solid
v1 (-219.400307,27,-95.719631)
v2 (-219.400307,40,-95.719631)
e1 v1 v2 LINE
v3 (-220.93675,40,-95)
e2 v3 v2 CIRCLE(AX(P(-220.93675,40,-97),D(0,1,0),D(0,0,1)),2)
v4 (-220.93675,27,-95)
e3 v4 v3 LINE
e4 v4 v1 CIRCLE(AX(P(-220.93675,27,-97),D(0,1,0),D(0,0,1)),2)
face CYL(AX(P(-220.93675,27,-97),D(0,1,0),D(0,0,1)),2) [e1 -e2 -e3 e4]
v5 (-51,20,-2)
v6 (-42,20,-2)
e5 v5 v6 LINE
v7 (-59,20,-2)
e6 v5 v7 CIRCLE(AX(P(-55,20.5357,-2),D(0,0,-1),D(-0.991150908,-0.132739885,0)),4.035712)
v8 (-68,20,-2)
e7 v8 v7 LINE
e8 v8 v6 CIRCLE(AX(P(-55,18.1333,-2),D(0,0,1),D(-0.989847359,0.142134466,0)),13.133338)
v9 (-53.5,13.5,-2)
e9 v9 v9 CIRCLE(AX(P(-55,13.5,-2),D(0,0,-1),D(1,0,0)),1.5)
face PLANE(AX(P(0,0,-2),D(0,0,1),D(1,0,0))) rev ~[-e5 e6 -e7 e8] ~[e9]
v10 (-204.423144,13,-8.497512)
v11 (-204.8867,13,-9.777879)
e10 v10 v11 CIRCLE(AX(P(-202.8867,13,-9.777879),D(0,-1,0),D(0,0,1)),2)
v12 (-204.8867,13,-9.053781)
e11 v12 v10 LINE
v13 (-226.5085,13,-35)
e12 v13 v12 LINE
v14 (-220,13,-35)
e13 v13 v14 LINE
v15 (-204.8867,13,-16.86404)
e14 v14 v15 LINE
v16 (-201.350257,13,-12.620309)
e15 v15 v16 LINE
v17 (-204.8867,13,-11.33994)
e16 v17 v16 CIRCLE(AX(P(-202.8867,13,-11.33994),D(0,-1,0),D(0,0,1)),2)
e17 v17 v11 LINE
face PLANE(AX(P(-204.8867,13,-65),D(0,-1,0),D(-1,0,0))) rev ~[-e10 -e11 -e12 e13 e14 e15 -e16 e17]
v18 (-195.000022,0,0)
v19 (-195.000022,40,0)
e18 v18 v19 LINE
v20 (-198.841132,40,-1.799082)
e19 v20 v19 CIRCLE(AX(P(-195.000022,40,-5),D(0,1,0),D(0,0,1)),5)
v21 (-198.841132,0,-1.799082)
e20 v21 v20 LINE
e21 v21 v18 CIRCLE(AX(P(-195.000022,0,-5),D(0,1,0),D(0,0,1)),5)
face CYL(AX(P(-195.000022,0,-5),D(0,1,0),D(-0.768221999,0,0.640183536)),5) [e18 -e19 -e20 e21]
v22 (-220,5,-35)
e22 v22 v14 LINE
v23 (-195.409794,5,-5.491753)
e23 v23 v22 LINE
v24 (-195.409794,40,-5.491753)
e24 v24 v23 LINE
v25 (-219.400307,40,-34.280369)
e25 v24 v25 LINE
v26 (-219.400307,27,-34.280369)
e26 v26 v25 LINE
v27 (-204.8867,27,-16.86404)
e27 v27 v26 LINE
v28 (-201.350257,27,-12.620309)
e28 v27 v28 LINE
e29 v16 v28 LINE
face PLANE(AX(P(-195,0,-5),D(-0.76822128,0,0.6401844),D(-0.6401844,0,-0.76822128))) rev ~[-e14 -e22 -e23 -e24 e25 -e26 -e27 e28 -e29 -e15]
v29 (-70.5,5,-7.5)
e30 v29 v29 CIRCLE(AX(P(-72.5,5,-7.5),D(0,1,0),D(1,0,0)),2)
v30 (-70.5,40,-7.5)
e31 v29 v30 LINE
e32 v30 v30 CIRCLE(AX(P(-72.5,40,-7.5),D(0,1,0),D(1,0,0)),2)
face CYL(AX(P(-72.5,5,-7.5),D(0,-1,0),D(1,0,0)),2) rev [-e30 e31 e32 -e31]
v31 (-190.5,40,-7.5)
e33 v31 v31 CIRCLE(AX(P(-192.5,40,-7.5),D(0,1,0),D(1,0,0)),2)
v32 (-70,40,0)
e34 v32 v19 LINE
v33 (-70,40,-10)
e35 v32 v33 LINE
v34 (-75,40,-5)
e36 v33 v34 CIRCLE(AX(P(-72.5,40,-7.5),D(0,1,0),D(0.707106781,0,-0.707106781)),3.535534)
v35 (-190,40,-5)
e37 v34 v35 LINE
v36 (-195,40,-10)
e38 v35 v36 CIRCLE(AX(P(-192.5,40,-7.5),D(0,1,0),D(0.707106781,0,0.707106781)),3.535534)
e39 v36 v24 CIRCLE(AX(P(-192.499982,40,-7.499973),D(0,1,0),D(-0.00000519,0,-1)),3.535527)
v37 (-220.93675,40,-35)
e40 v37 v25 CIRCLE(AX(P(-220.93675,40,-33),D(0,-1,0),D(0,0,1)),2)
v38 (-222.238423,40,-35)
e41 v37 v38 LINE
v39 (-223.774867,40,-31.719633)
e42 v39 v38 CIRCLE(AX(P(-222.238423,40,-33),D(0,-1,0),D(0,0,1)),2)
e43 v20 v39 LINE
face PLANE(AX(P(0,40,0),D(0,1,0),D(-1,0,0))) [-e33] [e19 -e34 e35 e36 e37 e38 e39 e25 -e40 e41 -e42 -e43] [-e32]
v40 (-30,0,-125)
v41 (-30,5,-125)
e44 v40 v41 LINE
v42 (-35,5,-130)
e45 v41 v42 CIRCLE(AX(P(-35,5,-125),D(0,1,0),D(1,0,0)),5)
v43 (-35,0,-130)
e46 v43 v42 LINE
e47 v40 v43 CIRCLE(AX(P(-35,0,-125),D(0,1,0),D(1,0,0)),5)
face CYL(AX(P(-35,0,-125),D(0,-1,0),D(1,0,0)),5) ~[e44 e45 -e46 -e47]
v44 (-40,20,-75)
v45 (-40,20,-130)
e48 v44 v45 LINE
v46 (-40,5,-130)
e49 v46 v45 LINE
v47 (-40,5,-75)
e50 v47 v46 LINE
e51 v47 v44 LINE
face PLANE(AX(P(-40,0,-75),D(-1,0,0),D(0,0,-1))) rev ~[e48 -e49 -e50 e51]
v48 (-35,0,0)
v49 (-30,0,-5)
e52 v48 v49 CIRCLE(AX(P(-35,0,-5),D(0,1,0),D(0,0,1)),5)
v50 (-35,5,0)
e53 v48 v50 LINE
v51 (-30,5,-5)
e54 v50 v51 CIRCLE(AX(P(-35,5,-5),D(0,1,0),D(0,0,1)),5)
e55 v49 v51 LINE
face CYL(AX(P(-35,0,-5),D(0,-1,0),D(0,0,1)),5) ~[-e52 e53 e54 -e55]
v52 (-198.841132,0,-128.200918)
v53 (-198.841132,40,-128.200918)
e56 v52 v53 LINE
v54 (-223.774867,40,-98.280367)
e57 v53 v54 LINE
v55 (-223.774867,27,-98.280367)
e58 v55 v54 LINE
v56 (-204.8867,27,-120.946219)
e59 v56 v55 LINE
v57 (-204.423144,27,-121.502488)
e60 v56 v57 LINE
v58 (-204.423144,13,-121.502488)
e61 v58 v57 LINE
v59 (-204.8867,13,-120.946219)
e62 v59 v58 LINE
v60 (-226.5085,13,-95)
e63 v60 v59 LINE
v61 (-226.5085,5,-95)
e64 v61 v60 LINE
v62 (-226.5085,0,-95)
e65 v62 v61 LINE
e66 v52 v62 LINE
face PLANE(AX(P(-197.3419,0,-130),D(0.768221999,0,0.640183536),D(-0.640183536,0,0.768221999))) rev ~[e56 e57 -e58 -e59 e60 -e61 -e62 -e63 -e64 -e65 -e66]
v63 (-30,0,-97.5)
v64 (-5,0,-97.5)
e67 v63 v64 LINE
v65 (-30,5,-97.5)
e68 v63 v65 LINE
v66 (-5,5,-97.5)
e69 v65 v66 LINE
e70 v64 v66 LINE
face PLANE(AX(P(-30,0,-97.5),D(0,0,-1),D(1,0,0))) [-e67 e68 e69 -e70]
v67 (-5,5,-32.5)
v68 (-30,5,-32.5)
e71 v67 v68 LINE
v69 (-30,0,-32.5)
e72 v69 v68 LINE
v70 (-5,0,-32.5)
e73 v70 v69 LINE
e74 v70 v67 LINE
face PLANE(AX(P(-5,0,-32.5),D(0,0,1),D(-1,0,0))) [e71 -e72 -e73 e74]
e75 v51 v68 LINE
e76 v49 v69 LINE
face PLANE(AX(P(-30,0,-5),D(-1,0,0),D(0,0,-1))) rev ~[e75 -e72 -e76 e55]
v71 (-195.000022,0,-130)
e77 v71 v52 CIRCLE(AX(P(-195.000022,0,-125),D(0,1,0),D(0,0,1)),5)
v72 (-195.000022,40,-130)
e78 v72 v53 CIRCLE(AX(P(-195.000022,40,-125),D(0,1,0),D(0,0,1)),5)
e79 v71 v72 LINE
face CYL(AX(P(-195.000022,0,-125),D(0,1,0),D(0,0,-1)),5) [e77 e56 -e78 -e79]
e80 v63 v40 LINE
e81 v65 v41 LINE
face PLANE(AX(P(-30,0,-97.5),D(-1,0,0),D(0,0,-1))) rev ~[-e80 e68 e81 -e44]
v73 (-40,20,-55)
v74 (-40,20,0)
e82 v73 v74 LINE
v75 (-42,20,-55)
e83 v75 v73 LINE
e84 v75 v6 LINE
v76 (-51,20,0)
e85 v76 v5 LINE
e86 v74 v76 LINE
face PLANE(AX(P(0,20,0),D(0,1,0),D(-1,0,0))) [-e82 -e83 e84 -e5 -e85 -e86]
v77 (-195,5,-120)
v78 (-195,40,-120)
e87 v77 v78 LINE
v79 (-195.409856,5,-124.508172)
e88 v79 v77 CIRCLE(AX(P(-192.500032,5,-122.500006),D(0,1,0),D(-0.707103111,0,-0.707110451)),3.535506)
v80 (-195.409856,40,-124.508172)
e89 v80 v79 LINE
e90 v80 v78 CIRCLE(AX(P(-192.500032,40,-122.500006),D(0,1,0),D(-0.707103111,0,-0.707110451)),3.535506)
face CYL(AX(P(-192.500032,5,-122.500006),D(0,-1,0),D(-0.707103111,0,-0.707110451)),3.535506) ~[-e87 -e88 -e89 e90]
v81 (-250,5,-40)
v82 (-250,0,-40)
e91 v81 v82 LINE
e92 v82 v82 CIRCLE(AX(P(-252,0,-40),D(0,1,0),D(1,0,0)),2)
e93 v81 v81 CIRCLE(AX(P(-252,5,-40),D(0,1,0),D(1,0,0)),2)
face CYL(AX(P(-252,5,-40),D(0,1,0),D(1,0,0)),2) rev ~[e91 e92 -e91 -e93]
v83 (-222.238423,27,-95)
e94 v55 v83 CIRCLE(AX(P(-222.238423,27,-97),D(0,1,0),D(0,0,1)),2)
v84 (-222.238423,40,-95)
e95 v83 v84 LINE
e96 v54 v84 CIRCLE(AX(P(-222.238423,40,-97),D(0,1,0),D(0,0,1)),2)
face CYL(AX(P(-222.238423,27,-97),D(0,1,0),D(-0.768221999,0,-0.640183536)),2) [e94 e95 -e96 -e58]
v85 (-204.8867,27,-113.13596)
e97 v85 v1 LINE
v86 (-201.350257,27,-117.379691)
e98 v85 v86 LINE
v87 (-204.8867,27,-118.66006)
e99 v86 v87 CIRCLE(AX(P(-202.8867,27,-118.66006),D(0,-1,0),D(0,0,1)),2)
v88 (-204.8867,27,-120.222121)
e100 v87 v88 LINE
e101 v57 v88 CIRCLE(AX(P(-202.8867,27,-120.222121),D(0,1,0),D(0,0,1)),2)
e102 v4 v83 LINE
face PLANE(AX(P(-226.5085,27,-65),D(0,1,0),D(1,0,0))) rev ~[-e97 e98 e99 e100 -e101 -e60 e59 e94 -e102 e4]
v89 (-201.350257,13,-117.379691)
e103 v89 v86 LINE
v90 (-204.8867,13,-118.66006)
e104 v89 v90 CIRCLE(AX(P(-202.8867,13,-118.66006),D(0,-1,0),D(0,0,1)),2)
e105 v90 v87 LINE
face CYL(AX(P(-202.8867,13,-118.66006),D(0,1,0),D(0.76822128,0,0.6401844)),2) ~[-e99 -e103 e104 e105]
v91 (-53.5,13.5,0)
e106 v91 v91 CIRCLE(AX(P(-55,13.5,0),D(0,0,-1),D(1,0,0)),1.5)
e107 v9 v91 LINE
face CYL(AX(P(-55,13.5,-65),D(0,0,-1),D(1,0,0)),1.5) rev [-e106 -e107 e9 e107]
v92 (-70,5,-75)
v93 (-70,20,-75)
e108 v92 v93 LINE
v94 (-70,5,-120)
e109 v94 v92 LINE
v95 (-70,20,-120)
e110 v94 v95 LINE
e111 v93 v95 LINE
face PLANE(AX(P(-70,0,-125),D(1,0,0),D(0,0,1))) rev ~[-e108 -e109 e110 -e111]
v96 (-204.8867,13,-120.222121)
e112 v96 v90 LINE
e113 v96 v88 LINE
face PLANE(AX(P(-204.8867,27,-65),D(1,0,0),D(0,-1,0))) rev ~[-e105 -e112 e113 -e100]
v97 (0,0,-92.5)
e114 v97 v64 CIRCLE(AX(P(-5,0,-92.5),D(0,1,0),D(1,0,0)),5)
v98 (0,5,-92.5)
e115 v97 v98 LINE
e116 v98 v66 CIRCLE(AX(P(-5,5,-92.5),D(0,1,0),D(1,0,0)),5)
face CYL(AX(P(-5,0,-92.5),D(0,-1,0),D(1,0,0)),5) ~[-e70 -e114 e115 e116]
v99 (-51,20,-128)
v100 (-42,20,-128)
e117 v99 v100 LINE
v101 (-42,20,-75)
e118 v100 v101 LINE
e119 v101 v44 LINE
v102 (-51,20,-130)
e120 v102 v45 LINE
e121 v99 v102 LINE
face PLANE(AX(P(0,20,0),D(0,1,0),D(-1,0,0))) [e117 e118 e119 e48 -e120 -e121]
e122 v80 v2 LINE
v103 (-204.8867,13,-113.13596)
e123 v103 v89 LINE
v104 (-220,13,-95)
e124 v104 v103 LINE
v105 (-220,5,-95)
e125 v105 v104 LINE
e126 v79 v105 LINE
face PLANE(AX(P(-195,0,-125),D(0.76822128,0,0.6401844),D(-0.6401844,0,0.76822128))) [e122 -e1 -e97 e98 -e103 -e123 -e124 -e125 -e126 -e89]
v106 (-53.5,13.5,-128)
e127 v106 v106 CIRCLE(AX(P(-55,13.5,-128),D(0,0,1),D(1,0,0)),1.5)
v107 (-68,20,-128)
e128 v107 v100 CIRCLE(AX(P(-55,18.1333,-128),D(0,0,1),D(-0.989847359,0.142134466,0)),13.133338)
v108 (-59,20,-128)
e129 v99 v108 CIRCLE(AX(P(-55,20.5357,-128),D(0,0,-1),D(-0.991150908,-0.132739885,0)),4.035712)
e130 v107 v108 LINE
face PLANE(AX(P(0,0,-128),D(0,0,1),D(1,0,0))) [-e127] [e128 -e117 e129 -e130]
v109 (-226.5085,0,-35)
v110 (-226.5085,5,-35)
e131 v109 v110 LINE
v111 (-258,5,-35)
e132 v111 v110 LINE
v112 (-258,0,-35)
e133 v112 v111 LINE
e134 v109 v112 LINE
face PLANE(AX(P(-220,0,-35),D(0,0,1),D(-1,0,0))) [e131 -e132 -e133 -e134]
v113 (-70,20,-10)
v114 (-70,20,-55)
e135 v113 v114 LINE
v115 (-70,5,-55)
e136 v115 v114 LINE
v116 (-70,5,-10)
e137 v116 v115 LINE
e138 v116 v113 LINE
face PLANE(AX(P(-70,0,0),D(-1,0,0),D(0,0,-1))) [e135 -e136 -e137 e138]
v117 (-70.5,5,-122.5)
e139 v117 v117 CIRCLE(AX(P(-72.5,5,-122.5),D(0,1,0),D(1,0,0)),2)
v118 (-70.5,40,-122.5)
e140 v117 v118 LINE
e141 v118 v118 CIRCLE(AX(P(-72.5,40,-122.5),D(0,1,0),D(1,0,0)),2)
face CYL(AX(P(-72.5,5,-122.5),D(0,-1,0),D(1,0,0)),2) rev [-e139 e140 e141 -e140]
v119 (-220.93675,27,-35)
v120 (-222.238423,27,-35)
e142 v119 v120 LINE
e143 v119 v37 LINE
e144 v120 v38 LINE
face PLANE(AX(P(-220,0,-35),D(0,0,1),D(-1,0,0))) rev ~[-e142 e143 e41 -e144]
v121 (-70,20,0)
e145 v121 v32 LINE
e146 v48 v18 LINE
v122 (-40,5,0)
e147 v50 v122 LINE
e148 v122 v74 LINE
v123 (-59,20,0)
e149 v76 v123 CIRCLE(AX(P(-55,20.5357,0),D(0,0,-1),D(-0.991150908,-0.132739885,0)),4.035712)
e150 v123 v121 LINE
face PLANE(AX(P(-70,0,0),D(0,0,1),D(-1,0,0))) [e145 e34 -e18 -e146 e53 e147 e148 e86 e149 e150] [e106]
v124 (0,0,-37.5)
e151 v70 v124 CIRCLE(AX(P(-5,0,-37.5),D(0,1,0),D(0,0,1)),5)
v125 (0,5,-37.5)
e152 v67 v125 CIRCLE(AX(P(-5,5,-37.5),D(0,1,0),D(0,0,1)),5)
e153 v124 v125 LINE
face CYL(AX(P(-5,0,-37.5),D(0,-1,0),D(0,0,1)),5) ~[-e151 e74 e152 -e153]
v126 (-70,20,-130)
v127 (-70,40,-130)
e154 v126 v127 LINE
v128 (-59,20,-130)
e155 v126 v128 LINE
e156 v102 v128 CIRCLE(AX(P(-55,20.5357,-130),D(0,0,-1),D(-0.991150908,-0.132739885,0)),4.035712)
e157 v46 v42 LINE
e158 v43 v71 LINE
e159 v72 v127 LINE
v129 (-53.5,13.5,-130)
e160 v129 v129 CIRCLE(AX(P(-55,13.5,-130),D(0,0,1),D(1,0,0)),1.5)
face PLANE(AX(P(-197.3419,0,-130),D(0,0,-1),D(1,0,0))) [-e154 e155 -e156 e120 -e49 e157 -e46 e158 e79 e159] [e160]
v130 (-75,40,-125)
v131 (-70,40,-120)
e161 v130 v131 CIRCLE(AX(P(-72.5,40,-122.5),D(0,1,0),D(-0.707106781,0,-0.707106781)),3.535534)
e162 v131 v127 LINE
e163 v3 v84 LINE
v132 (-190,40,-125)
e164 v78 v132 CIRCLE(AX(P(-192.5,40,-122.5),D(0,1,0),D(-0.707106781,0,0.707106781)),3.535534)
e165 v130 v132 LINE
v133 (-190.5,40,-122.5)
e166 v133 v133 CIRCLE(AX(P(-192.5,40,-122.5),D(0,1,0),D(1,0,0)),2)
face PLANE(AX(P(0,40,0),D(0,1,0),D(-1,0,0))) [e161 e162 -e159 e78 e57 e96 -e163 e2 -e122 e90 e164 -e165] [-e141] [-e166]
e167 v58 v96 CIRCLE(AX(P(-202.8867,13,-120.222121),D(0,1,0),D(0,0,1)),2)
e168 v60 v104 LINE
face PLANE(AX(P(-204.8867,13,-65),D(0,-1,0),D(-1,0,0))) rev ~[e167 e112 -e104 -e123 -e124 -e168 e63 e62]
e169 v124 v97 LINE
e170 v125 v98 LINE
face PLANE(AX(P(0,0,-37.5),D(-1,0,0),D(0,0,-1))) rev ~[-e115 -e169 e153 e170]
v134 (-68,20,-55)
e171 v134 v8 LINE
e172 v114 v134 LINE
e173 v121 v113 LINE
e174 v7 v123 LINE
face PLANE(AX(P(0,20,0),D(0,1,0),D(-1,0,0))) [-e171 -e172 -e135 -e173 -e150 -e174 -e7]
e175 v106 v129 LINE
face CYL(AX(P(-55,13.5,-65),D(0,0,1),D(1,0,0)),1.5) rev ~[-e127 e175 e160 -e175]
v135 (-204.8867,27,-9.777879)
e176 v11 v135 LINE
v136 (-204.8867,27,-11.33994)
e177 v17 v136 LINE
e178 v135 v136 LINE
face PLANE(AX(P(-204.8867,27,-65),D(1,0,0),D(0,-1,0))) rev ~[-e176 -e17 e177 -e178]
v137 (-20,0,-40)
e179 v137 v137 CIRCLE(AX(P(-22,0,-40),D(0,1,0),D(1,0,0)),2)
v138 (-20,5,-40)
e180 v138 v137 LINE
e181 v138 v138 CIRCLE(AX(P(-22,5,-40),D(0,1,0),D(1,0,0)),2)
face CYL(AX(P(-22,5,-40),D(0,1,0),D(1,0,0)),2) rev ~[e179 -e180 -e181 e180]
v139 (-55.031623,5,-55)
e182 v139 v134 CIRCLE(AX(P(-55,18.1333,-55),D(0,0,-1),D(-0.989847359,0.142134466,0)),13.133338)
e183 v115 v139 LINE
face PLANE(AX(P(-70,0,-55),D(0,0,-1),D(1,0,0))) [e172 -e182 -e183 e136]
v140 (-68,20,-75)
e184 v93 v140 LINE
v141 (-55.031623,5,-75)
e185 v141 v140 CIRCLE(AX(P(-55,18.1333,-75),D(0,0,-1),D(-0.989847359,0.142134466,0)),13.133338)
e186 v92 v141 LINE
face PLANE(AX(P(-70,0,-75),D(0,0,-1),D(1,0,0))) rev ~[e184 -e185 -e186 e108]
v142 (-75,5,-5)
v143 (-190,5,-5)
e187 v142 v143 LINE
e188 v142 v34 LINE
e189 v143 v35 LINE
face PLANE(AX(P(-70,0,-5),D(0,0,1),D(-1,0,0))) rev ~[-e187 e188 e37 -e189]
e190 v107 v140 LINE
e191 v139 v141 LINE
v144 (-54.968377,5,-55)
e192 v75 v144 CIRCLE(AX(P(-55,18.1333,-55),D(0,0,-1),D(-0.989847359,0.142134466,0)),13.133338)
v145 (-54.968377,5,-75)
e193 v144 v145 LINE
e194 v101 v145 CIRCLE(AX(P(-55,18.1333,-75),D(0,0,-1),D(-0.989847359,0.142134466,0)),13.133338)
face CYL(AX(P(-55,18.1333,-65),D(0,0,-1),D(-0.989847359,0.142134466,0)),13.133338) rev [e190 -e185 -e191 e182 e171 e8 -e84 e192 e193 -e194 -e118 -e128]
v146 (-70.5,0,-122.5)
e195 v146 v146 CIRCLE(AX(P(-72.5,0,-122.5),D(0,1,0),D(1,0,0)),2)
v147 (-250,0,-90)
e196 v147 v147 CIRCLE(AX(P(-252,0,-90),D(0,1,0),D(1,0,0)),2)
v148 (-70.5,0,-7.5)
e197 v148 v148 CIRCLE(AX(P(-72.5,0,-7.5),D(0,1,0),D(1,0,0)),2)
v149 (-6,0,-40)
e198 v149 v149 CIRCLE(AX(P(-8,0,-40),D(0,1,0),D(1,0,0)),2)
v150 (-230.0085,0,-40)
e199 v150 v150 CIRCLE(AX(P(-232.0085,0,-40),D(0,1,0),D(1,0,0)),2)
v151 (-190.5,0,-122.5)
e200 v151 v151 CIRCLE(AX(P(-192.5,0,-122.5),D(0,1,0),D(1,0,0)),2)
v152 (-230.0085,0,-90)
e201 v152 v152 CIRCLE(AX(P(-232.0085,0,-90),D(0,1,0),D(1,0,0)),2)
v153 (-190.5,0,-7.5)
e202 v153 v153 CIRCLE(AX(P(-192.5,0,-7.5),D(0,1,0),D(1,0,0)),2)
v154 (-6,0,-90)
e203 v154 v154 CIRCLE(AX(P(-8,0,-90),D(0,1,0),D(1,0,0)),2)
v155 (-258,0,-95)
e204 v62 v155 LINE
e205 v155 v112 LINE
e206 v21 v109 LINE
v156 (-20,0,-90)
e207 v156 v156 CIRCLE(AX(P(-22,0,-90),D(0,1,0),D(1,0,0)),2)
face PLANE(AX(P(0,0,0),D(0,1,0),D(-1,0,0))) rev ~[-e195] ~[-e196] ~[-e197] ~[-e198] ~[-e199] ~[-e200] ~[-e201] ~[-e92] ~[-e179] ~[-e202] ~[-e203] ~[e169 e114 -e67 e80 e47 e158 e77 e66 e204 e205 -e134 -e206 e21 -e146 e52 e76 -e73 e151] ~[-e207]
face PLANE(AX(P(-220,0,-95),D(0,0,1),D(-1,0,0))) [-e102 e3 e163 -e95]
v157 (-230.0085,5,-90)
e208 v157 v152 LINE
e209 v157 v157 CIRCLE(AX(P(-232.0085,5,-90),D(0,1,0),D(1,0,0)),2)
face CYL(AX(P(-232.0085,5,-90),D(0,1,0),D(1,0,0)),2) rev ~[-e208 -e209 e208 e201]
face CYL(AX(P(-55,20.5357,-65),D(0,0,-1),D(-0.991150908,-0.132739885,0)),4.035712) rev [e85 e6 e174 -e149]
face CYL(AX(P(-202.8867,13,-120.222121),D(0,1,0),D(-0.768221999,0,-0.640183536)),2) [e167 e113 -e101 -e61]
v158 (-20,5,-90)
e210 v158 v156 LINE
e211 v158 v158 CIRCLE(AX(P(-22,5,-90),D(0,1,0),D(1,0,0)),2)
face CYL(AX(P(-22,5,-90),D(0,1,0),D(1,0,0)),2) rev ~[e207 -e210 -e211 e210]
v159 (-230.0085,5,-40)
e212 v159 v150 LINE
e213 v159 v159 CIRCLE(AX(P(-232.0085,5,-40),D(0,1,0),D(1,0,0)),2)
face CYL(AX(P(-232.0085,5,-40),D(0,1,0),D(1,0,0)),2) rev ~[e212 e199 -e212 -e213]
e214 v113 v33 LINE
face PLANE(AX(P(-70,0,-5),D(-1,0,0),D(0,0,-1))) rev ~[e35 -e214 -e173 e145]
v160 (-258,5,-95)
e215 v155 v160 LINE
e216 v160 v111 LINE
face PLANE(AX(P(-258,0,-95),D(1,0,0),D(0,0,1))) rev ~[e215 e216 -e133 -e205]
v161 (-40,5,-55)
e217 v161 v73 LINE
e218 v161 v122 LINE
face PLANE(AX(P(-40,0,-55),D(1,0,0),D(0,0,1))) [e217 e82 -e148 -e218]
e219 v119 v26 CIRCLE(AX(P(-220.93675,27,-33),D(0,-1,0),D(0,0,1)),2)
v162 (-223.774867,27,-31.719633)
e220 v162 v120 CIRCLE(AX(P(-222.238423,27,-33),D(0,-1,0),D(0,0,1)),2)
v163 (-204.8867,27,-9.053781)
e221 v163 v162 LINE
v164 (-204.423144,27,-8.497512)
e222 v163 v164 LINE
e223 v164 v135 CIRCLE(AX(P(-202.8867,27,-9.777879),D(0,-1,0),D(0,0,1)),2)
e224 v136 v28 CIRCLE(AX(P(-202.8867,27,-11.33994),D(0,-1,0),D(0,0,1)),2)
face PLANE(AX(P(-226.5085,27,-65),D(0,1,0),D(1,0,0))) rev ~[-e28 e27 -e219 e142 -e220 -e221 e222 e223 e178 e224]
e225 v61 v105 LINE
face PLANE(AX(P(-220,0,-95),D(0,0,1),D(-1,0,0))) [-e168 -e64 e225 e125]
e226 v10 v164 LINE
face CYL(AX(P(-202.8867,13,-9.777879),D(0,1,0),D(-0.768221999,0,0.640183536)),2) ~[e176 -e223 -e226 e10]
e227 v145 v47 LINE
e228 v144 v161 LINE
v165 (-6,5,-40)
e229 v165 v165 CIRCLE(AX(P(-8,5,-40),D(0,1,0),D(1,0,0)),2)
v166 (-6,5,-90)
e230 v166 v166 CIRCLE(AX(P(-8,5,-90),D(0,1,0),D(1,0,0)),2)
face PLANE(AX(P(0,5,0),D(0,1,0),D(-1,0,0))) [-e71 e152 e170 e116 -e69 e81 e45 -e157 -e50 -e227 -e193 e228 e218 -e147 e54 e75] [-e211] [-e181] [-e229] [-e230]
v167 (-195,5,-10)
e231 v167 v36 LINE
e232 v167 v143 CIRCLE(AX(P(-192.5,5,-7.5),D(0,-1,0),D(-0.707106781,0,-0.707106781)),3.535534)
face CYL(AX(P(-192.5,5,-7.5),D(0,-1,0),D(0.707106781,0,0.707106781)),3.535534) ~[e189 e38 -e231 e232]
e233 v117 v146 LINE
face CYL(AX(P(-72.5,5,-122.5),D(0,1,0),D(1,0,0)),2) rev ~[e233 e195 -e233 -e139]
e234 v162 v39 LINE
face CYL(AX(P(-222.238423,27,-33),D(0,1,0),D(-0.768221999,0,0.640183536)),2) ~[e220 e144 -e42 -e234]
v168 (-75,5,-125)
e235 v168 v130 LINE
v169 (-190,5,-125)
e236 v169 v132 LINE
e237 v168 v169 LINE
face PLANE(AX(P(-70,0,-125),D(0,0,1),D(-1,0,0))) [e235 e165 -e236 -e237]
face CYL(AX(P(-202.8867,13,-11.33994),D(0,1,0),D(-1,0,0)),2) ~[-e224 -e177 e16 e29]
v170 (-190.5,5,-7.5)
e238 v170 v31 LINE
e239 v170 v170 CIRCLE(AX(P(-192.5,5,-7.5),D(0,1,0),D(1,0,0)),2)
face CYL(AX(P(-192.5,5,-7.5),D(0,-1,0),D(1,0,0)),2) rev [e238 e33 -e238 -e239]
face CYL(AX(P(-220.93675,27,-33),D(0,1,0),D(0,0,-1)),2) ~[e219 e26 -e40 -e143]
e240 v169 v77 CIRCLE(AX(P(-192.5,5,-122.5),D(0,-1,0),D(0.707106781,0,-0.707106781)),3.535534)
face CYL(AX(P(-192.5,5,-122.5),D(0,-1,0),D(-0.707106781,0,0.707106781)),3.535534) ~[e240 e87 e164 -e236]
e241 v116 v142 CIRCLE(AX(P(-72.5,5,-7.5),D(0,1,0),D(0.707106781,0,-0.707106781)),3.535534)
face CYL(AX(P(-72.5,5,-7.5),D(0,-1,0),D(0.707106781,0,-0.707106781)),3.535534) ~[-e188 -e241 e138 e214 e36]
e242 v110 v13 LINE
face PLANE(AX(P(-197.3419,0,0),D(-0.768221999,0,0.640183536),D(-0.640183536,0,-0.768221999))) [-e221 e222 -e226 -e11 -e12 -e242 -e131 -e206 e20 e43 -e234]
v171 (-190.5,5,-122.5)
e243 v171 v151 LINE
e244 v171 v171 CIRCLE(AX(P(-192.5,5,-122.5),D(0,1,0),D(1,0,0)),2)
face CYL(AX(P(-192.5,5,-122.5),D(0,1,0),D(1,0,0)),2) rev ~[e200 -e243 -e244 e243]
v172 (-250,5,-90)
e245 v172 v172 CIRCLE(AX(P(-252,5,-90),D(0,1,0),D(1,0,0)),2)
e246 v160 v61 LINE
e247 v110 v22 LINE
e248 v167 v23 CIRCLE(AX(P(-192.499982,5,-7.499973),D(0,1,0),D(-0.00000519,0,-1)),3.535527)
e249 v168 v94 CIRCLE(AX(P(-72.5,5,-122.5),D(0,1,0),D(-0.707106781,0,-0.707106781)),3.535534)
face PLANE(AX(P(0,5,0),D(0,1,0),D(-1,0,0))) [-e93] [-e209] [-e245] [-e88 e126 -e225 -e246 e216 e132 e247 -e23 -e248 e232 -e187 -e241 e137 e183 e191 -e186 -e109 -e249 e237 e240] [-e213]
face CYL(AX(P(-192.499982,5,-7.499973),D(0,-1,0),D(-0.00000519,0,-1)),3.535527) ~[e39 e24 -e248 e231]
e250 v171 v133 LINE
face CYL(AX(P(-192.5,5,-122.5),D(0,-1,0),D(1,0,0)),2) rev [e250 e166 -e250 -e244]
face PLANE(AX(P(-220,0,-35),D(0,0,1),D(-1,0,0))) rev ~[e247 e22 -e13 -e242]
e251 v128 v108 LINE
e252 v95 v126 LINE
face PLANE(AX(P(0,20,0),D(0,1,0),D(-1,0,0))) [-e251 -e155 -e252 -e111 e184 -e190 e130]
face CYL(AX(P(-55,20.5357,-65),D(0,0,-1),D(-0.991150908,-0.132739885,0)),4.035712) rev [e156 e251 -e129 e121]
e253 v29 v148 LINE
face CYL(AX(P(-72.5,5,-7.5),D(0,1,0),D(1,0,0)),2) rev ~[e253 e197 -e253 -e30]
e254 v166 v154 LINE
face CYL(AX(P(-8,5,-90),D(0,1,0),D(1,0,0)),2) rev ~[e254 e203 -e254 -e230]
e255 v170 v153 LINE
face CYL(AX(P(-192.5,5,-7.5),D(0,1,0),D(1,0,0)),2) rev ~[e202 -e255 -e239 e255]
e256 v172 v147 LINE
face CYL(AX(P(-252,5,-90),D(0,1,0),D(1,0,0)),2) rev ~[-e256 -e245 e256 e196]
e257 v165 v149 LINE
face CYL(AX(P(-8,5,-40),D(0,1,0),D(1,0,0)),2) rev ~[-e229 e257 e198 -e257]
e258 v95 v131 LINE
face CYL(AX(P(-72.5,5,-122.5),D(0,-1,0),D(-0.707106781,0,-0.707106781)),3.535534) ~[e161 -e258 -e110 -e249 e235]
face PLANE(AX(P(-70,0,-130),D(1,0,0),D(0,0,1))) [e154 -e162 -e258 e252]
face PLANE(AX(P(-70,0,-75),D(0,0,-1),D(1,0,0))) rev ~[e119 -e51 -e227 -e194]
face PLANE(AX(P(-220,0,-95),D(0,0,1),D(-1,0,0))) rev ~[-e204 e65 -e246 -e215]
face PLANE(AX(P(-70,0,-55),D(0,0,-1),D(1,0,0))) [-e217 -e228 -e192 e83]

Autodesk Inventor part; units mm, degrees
sketch "Boceto1" plane through (0, 0, 0) normal (0, 1, 0) x (-1, 0, 0)
  line L0 (197.3419, -130) -> (35, -130)
  line L1 (5, -32.5) -> (30, -32.5)
  line L2 (30, -32.5) -> (30, -97.5)
  line L3 (30, -97.5) -> (5, -97.5)
  line L4 (30, -5) -> (30, -32.5)
  line L5 (30, -97.5) -> (30, -125)
  line L6 (0, -37.5) -> (0, -92.5)
  arc A0 (5, -32.5) -> (0, -37.5) centre (5, -37.5) ccw
  arc A1 (0, -92.5) -> (5, -97.5) centre (5, -92.5) ccw
  line L7 (35, 0) -> (40, 0) construction
  line L8 (40, 0) -> (40, -130) construction
  line L9 (40, -130) -> (70, -130)
  line L10 (70, -130) -> (70, -75)
  line L11 (70, -75) -> (40, -75)
  line L12 (40, -75) -> (40, -130)
  line L13 (40, 0) -> (70, 0)
  line L14 (70, 0) -> (70, -55)
  line L15 (70, -55) -> (40, -55)
  line L16 (40, -55) -> (40, 0)
  arc A2 (30, -125) -> (35, -130) centre (35, -125) ccw
  arc A3 (35, 0) -> (30, -5) centre (35, -5) ccw
  line L17 (70, 0) -> (70, -5) construction
  line L18 (70, -130) -> (70, -125) construction
  line L19 (70, -125) -> (195, -125)
  line L20 (70, -5) -> (195, -5)
  line L21 (195, -5) -> (220, -5) construction
  line L22 (220, -5) -> (220, -125) construction
  line L23 (220, -125) -> (195, -125) construction
  line L24 (0, -65) -> (285, -65) construction
  line L25 (220, -65) -> (220, -95) construction
  line L26 (220, -65) -> (220, -35) construction
  line L27 (220, -35) -> (255, -35) construction
  line L28 (255, -35) -> (255, -95) construction
  line L29 (255, -95) -> (220, -95) construction
  line L30 (195, -5) -> (220, -35)
  line L31 (195, -125) -> (220, -95)
  line L32 (220, -95) -> (255, -95)
  line L33 (220, -35) -> (255, -35)
  line L34 (255, -35) -> (255, -95)
  line L35 (207.5, -110) -> (211.3411, -113.2009) construction
  line L36 (197.3419, -130) -> (226.5085, -95)
  line L37 (197.3419, 0) -> (226.5085, -35)
  line L38 (70, 0) -> (197.3419, 0)
  line L39 (35, 0) -> (40, 0)
  line L40 (255, -95) -> (258, -95)
  line L41 (258, -95) -> (258, -35)
  line L42 (258, -35) -> (255, -35)
  line L43 (255, -35) -> (255, -95)
  point P0 (0, 0)
  point P1 (30, -130)
  dimension "d5" = 5
  dimension "d7" = 30
  dimension "d8" = 55
  dimension "d9" = 55
  dimension "d10" = 5
  dimension "d11" = 5
  dimension "d12" = 125
  dimension "d13" = 25
  dimension "d14" = 30
  dimension "d15" = 30
  dimension "d16" = 35
  dimension "d17" = 5
  dimension "d62" = 3
extrude "Extrusión1" add sketch "Boceto1" along normal blind 40 contours L0 L10 L19 L31 L32 L36 | L33 L30 L20 L14 L38 L37
extrude "Extrusión2" add sketch "Boceto1" along normal blind 5 contours L32 L31 L19 L10 L11 L12 L0 A2 L5 L2 L4 A3 L39 L16 L15 L14 L20 L30 L33 L34 | L34 L42 L41 L40 | L3 A1 L6 A0 L1 L2
extrude "Extrusión3" add sketch "Boceto1" along normal blind 20 contours L0 L12 L11 L10 | L14 L15 L16 L13
fillet "Empalme1" radius 5 2 edges at (-197.3419, 20, 0) (-197.3419, 20, -130)
ref_plane "Plano de trabajo1" through (0, 0, -65) normal (0, 0, 1) x (1, 0, 0)
sketch "Boceto2" plane through (0, 0, -65) normal (0, 0, 1) x (1, 0, 0)
  line L0 (-40, 20) -> (-70, 20) construction
  line L1 (-70, 20) -> (-68, 20) construction
  line L2 (-40, 5) -> (-40, 20) construction
  line L3 (-40, 20) -> (-42, 20) construction
  arc A0 (-68, 20) -> (-42, 20) centre (-55, 18.1333) ccw
  line L4 (-68, 20) -> (-68, 21.6532)
  line L5 (-68, 21.6532) -> (-42, 21.6532)
  line L6 (-42, 21.6532) -> (-42, 20)
  point P0 (0, 0)
  dimension "d26" = 2
  dimension "d27" = 2
extrude "Extrusión4" cut sketch "Boceto2" along normal mid plane 126
sketch "Boceto3" plane through (0, 0, -65) normal (0, 0, 1) x (1, 0, 0)
  line L0 (-68, 20) -> (-42, 20) construction
  line L1 (-55, 20) -> (-59, 20) construction
  line L2 (-55, 20) -> (-51, 20) construction
  line L3 (-55, 20) -> (-55, 16.5) construction
  arc A0 (-59, 20) -> (-51, 20) centre (-55, 20.5357) ccw
  arc A1 (-51, 20) -> (-59, 20) centre (-55, 15.3068) ccw
  point P0 (0, 0)
  dimension "d30" = 4
  dimension "d33" = 3.5
extrude "Extrusión5" cut sketch "Boceto3" along normal through all both and the other way through all
sketch "Boceto4" plane through (0, 0, -65) normal (0, 0, 1) x (1, 0, 0)
  arc A0 (-59, 20) -> (-51, 20) centre (-55, 20.5357) ccw construction
  line L0 (-55, 16.5) -> (-55, 13.5) construction
  circle A1 centre (-55, 13.5) radius 1.5
  point P0 (0, 0)
  dimension "d36" = 3
  dimension "d37" = 3
extrude "Extrusión6" cut sketch "Boceto4" along normal through all both and the other way through all
sketch "Boceto5" plane through (0, 5, 0) normal (0, 1, 0) x (1, 0, 0)
  line L0 (-30, 97.5) -> (-30, 125) construction
  line L1 (-30, 32.5) -> (-30, 97.5) construction
  line L2 (0, 37.5) -> (0, 92.5) construction
  line L3 (0, 65) -> (-30, 65) construction
  line L4 (0, 97.5) -> (-15, 97.5) construction
  line L5 (-5, 97.5) -> (-30, 97.5) construction
  line L6 (-15, 97.5) -> (-15, 32.5) construction
  line L7 (-30, 32.5) -> (-5, 32.5) construction
  line L8 (-15, 65) -> (-15, 40) construction
  line L9 (-15, 40) -> (-20, 40) construction
  line L10 (-20, 40) -> (-22, 40) construction
  circle A0 centre (-22, 40) radius 2
  circle A1 centre (-8, 40) radius 2
  circle A2 centre (-22, 90) radius 2
  circle A3 centre (-8, 90) radius 2
  point P0 (0, 0)
  dimension "d40" = 15
  dimension "d41" = 25
  dimension "d42" = 5
  dimension "d43" = 2
extrude "Extrusión7" cut sketch "Boceto5" against normal blind 10
sketch "Boceto6" plane through (0, 5, 0) normal (0, 1, 0) x (1, 0, 0)
  line L0 (-70, 55) -> (-70, 5) construction
  line L1 (-70, 5) -> (-70, 10) construction
  line L2 (-70, 10) -> (-75, 10) construction
  line L3 (-75, 10) -> (-75, 5) construction
  line L4 (-75, 5) -> (-70, 10) construction
  line L5 (-75, 10) -> (-70, 5) construction
  circle A0 centre (-72.5, 7.5) radius 2
  arc A1 (-70, 10) -> (-75, 5) centre (-72.5, 7.5) ccw
  line L6 (-70, 0) -> (-70, 5) projected
  line L7 (-70, 10) -> (-70, 5)
  line L8 (-70, 5) -> (-75, 5)
  line L9 (0, 37.5) -> (0, 92.5) construction
  line L10 (0, 65) -> (-255, 65) construction
  line L11 (-255, 95) -> (-255, 35) construction
  line L12 (0, 65) -> (-127.5, 65) construction
  line L13 (-127.5, 65) -> (-127.5, 0) construction
  line L14 (-195, 0) -> (-35, 0) construction
  line L15 (-70, 125) -> (-70, 120) construction
  circle A2 centre (-72.5, 122.5) radius 2
  arc A3 (-75, 125) -> (-70, 120) centre (-72.5, 122.5) ccw
  line L16 (-70, 120) -> (-70, 125)
  line L17 (-70, 125) -> (-75, 125)
  line L18 (-195, 5) -> (-220, 35) construction
  line L19 (-195, 125) -> (-70, 125) construction
  line L20 (-195, 5) -> (-195, 125) construction
  line L21 (-70, 65) -> (-132.5, 65) construction
  line L22 (-132.5, 65) -> (-132.5, 130) construction
  line L23 (-35, 130) -> (-195, 130) construction
  circle A4 centre (-192.5, 7.5) radius 2
  arc A5 (-190, 5) -> (-195, 10) centre (-192.5, 7.5) ccw
  line L24 (-195, 10) -> (-195, 5)
  line L25 (-195, 5) -> (-190, 5)
  arc A6 (-195, 120) -> (-190, 125) centre (-192.5, 122.5) ccw
  circle A7 centre (-192.5, 122.5) radius 2
  line L26 (-195, 125) -> (-190, 125)
  line L27 (-195, 120) -> (-195, 125)
  arc A8 (-195, 125) -> (-192.5, 118.9645) centre (-192.5, 122.5) ccw
  line L28 (-190, 125) -> (-195, 125)
  arc A9 (-192.5, 11.0355) -> (-195, 5) centre (-192.5, 7.5) ccw
  point P0 (0, 0)
  point P1 (-195, 120)
  dimension "d47" = 5
  dimension "d48" = 4
  dimension "d49" = 127.5
  dimension "d50" = 62.5
extrude "Extrusión8" add sketch "Boceto6" along normal blind 35
extrude "Extrusión9" cut sketch "Boceto6" against normal blind 35 contours A0 | A2 | A4 | A7
sketch "Boceto7" plane through (0, 5, 0) normal (0, 1, 0) x (1, 0, 0)
  line L0 (-255, 35) -> (-226.5085, 35) construction
  line L1 (-198.8411, 128.2009) -> (-226.5085, 95) construction
  line L2 (-226.5085, 35) -> (-226.5085, 95) construction
  line L3 (-226.5085, 65) -> (-255, 65) construction
  line L4 (-255, 95) -> (-255, 35) construction
  line L5 (-226.5085, 95) -> (-255, 95) construction
  line L6 (-240.7543, 95) -> (-240.7543, 35) construction
  line L7 (-226.5085, 35) -> (-229.5085, 35) construction
  circle A0 centre (-252, 40) radius 2
  circle A1 centre (-252, 90) radius 2
  line L8 (-226.5085, 35) -> (-226.5085, 40) construction
  line L9 (-226.5085, 40) -> (-232.0085, 40) construction
  circle A2 centre (-232.0085, 40) radius 2
  circle A3 centre (-232.0085, 90) radius 2
  point P0 (0, 0)
  dimension "d64" = 5.5
  dimension "d65" = 4
extrude "Extrusión10" cut sketch "Boceto7" against normal blind 35
ref_plane "Plano de trabajo2" through (0, 0, -65) normal (0, 0, 1) x (1, 0, 0)
ref_plane "Plano de trabajo3" through (0, 0, -65) normal (0, 0, 1) x (1, 0, 0)
sketch "Boceto9" plane through (0, 0, -65) normal (0, 0, 1) x (1, 0, 0)
  line L0 (-226.5085, 5) -> (-226.5085, 40) construction
  line L1 (-226.5085, 22.5) -> (-226.5085, 27)
  line L2 (-226.5085, 27) -> (-204.8867, 27)
  line L3 (-204.8867, 27) -> (-204.8867, 13)
  line L4 (-204.8867, 13) -> (-226.5085, 13)
  line L5 (-226.5085, 13) -> (-226.5085, 27)
  point P0 (0, 0)
  dimension "d79" = 4.5
  dimension "d80" = 14
extrude "Extrusión12" cut sketch "Boceto9" along normal through all both and the other way through all
fillet "Empalme2" radius 2 8 edges at (-204.8867, 20, -16.864) (-204.8867, 20, -9.0538) (-204.8867, 20, -120.9462) (-204.8867, 20, -113.136) (-220, 33.5, -35) (-226.5085, 33.5, -35) (-226.5085, 33.5, -95) (-220, 33.5, -95)
